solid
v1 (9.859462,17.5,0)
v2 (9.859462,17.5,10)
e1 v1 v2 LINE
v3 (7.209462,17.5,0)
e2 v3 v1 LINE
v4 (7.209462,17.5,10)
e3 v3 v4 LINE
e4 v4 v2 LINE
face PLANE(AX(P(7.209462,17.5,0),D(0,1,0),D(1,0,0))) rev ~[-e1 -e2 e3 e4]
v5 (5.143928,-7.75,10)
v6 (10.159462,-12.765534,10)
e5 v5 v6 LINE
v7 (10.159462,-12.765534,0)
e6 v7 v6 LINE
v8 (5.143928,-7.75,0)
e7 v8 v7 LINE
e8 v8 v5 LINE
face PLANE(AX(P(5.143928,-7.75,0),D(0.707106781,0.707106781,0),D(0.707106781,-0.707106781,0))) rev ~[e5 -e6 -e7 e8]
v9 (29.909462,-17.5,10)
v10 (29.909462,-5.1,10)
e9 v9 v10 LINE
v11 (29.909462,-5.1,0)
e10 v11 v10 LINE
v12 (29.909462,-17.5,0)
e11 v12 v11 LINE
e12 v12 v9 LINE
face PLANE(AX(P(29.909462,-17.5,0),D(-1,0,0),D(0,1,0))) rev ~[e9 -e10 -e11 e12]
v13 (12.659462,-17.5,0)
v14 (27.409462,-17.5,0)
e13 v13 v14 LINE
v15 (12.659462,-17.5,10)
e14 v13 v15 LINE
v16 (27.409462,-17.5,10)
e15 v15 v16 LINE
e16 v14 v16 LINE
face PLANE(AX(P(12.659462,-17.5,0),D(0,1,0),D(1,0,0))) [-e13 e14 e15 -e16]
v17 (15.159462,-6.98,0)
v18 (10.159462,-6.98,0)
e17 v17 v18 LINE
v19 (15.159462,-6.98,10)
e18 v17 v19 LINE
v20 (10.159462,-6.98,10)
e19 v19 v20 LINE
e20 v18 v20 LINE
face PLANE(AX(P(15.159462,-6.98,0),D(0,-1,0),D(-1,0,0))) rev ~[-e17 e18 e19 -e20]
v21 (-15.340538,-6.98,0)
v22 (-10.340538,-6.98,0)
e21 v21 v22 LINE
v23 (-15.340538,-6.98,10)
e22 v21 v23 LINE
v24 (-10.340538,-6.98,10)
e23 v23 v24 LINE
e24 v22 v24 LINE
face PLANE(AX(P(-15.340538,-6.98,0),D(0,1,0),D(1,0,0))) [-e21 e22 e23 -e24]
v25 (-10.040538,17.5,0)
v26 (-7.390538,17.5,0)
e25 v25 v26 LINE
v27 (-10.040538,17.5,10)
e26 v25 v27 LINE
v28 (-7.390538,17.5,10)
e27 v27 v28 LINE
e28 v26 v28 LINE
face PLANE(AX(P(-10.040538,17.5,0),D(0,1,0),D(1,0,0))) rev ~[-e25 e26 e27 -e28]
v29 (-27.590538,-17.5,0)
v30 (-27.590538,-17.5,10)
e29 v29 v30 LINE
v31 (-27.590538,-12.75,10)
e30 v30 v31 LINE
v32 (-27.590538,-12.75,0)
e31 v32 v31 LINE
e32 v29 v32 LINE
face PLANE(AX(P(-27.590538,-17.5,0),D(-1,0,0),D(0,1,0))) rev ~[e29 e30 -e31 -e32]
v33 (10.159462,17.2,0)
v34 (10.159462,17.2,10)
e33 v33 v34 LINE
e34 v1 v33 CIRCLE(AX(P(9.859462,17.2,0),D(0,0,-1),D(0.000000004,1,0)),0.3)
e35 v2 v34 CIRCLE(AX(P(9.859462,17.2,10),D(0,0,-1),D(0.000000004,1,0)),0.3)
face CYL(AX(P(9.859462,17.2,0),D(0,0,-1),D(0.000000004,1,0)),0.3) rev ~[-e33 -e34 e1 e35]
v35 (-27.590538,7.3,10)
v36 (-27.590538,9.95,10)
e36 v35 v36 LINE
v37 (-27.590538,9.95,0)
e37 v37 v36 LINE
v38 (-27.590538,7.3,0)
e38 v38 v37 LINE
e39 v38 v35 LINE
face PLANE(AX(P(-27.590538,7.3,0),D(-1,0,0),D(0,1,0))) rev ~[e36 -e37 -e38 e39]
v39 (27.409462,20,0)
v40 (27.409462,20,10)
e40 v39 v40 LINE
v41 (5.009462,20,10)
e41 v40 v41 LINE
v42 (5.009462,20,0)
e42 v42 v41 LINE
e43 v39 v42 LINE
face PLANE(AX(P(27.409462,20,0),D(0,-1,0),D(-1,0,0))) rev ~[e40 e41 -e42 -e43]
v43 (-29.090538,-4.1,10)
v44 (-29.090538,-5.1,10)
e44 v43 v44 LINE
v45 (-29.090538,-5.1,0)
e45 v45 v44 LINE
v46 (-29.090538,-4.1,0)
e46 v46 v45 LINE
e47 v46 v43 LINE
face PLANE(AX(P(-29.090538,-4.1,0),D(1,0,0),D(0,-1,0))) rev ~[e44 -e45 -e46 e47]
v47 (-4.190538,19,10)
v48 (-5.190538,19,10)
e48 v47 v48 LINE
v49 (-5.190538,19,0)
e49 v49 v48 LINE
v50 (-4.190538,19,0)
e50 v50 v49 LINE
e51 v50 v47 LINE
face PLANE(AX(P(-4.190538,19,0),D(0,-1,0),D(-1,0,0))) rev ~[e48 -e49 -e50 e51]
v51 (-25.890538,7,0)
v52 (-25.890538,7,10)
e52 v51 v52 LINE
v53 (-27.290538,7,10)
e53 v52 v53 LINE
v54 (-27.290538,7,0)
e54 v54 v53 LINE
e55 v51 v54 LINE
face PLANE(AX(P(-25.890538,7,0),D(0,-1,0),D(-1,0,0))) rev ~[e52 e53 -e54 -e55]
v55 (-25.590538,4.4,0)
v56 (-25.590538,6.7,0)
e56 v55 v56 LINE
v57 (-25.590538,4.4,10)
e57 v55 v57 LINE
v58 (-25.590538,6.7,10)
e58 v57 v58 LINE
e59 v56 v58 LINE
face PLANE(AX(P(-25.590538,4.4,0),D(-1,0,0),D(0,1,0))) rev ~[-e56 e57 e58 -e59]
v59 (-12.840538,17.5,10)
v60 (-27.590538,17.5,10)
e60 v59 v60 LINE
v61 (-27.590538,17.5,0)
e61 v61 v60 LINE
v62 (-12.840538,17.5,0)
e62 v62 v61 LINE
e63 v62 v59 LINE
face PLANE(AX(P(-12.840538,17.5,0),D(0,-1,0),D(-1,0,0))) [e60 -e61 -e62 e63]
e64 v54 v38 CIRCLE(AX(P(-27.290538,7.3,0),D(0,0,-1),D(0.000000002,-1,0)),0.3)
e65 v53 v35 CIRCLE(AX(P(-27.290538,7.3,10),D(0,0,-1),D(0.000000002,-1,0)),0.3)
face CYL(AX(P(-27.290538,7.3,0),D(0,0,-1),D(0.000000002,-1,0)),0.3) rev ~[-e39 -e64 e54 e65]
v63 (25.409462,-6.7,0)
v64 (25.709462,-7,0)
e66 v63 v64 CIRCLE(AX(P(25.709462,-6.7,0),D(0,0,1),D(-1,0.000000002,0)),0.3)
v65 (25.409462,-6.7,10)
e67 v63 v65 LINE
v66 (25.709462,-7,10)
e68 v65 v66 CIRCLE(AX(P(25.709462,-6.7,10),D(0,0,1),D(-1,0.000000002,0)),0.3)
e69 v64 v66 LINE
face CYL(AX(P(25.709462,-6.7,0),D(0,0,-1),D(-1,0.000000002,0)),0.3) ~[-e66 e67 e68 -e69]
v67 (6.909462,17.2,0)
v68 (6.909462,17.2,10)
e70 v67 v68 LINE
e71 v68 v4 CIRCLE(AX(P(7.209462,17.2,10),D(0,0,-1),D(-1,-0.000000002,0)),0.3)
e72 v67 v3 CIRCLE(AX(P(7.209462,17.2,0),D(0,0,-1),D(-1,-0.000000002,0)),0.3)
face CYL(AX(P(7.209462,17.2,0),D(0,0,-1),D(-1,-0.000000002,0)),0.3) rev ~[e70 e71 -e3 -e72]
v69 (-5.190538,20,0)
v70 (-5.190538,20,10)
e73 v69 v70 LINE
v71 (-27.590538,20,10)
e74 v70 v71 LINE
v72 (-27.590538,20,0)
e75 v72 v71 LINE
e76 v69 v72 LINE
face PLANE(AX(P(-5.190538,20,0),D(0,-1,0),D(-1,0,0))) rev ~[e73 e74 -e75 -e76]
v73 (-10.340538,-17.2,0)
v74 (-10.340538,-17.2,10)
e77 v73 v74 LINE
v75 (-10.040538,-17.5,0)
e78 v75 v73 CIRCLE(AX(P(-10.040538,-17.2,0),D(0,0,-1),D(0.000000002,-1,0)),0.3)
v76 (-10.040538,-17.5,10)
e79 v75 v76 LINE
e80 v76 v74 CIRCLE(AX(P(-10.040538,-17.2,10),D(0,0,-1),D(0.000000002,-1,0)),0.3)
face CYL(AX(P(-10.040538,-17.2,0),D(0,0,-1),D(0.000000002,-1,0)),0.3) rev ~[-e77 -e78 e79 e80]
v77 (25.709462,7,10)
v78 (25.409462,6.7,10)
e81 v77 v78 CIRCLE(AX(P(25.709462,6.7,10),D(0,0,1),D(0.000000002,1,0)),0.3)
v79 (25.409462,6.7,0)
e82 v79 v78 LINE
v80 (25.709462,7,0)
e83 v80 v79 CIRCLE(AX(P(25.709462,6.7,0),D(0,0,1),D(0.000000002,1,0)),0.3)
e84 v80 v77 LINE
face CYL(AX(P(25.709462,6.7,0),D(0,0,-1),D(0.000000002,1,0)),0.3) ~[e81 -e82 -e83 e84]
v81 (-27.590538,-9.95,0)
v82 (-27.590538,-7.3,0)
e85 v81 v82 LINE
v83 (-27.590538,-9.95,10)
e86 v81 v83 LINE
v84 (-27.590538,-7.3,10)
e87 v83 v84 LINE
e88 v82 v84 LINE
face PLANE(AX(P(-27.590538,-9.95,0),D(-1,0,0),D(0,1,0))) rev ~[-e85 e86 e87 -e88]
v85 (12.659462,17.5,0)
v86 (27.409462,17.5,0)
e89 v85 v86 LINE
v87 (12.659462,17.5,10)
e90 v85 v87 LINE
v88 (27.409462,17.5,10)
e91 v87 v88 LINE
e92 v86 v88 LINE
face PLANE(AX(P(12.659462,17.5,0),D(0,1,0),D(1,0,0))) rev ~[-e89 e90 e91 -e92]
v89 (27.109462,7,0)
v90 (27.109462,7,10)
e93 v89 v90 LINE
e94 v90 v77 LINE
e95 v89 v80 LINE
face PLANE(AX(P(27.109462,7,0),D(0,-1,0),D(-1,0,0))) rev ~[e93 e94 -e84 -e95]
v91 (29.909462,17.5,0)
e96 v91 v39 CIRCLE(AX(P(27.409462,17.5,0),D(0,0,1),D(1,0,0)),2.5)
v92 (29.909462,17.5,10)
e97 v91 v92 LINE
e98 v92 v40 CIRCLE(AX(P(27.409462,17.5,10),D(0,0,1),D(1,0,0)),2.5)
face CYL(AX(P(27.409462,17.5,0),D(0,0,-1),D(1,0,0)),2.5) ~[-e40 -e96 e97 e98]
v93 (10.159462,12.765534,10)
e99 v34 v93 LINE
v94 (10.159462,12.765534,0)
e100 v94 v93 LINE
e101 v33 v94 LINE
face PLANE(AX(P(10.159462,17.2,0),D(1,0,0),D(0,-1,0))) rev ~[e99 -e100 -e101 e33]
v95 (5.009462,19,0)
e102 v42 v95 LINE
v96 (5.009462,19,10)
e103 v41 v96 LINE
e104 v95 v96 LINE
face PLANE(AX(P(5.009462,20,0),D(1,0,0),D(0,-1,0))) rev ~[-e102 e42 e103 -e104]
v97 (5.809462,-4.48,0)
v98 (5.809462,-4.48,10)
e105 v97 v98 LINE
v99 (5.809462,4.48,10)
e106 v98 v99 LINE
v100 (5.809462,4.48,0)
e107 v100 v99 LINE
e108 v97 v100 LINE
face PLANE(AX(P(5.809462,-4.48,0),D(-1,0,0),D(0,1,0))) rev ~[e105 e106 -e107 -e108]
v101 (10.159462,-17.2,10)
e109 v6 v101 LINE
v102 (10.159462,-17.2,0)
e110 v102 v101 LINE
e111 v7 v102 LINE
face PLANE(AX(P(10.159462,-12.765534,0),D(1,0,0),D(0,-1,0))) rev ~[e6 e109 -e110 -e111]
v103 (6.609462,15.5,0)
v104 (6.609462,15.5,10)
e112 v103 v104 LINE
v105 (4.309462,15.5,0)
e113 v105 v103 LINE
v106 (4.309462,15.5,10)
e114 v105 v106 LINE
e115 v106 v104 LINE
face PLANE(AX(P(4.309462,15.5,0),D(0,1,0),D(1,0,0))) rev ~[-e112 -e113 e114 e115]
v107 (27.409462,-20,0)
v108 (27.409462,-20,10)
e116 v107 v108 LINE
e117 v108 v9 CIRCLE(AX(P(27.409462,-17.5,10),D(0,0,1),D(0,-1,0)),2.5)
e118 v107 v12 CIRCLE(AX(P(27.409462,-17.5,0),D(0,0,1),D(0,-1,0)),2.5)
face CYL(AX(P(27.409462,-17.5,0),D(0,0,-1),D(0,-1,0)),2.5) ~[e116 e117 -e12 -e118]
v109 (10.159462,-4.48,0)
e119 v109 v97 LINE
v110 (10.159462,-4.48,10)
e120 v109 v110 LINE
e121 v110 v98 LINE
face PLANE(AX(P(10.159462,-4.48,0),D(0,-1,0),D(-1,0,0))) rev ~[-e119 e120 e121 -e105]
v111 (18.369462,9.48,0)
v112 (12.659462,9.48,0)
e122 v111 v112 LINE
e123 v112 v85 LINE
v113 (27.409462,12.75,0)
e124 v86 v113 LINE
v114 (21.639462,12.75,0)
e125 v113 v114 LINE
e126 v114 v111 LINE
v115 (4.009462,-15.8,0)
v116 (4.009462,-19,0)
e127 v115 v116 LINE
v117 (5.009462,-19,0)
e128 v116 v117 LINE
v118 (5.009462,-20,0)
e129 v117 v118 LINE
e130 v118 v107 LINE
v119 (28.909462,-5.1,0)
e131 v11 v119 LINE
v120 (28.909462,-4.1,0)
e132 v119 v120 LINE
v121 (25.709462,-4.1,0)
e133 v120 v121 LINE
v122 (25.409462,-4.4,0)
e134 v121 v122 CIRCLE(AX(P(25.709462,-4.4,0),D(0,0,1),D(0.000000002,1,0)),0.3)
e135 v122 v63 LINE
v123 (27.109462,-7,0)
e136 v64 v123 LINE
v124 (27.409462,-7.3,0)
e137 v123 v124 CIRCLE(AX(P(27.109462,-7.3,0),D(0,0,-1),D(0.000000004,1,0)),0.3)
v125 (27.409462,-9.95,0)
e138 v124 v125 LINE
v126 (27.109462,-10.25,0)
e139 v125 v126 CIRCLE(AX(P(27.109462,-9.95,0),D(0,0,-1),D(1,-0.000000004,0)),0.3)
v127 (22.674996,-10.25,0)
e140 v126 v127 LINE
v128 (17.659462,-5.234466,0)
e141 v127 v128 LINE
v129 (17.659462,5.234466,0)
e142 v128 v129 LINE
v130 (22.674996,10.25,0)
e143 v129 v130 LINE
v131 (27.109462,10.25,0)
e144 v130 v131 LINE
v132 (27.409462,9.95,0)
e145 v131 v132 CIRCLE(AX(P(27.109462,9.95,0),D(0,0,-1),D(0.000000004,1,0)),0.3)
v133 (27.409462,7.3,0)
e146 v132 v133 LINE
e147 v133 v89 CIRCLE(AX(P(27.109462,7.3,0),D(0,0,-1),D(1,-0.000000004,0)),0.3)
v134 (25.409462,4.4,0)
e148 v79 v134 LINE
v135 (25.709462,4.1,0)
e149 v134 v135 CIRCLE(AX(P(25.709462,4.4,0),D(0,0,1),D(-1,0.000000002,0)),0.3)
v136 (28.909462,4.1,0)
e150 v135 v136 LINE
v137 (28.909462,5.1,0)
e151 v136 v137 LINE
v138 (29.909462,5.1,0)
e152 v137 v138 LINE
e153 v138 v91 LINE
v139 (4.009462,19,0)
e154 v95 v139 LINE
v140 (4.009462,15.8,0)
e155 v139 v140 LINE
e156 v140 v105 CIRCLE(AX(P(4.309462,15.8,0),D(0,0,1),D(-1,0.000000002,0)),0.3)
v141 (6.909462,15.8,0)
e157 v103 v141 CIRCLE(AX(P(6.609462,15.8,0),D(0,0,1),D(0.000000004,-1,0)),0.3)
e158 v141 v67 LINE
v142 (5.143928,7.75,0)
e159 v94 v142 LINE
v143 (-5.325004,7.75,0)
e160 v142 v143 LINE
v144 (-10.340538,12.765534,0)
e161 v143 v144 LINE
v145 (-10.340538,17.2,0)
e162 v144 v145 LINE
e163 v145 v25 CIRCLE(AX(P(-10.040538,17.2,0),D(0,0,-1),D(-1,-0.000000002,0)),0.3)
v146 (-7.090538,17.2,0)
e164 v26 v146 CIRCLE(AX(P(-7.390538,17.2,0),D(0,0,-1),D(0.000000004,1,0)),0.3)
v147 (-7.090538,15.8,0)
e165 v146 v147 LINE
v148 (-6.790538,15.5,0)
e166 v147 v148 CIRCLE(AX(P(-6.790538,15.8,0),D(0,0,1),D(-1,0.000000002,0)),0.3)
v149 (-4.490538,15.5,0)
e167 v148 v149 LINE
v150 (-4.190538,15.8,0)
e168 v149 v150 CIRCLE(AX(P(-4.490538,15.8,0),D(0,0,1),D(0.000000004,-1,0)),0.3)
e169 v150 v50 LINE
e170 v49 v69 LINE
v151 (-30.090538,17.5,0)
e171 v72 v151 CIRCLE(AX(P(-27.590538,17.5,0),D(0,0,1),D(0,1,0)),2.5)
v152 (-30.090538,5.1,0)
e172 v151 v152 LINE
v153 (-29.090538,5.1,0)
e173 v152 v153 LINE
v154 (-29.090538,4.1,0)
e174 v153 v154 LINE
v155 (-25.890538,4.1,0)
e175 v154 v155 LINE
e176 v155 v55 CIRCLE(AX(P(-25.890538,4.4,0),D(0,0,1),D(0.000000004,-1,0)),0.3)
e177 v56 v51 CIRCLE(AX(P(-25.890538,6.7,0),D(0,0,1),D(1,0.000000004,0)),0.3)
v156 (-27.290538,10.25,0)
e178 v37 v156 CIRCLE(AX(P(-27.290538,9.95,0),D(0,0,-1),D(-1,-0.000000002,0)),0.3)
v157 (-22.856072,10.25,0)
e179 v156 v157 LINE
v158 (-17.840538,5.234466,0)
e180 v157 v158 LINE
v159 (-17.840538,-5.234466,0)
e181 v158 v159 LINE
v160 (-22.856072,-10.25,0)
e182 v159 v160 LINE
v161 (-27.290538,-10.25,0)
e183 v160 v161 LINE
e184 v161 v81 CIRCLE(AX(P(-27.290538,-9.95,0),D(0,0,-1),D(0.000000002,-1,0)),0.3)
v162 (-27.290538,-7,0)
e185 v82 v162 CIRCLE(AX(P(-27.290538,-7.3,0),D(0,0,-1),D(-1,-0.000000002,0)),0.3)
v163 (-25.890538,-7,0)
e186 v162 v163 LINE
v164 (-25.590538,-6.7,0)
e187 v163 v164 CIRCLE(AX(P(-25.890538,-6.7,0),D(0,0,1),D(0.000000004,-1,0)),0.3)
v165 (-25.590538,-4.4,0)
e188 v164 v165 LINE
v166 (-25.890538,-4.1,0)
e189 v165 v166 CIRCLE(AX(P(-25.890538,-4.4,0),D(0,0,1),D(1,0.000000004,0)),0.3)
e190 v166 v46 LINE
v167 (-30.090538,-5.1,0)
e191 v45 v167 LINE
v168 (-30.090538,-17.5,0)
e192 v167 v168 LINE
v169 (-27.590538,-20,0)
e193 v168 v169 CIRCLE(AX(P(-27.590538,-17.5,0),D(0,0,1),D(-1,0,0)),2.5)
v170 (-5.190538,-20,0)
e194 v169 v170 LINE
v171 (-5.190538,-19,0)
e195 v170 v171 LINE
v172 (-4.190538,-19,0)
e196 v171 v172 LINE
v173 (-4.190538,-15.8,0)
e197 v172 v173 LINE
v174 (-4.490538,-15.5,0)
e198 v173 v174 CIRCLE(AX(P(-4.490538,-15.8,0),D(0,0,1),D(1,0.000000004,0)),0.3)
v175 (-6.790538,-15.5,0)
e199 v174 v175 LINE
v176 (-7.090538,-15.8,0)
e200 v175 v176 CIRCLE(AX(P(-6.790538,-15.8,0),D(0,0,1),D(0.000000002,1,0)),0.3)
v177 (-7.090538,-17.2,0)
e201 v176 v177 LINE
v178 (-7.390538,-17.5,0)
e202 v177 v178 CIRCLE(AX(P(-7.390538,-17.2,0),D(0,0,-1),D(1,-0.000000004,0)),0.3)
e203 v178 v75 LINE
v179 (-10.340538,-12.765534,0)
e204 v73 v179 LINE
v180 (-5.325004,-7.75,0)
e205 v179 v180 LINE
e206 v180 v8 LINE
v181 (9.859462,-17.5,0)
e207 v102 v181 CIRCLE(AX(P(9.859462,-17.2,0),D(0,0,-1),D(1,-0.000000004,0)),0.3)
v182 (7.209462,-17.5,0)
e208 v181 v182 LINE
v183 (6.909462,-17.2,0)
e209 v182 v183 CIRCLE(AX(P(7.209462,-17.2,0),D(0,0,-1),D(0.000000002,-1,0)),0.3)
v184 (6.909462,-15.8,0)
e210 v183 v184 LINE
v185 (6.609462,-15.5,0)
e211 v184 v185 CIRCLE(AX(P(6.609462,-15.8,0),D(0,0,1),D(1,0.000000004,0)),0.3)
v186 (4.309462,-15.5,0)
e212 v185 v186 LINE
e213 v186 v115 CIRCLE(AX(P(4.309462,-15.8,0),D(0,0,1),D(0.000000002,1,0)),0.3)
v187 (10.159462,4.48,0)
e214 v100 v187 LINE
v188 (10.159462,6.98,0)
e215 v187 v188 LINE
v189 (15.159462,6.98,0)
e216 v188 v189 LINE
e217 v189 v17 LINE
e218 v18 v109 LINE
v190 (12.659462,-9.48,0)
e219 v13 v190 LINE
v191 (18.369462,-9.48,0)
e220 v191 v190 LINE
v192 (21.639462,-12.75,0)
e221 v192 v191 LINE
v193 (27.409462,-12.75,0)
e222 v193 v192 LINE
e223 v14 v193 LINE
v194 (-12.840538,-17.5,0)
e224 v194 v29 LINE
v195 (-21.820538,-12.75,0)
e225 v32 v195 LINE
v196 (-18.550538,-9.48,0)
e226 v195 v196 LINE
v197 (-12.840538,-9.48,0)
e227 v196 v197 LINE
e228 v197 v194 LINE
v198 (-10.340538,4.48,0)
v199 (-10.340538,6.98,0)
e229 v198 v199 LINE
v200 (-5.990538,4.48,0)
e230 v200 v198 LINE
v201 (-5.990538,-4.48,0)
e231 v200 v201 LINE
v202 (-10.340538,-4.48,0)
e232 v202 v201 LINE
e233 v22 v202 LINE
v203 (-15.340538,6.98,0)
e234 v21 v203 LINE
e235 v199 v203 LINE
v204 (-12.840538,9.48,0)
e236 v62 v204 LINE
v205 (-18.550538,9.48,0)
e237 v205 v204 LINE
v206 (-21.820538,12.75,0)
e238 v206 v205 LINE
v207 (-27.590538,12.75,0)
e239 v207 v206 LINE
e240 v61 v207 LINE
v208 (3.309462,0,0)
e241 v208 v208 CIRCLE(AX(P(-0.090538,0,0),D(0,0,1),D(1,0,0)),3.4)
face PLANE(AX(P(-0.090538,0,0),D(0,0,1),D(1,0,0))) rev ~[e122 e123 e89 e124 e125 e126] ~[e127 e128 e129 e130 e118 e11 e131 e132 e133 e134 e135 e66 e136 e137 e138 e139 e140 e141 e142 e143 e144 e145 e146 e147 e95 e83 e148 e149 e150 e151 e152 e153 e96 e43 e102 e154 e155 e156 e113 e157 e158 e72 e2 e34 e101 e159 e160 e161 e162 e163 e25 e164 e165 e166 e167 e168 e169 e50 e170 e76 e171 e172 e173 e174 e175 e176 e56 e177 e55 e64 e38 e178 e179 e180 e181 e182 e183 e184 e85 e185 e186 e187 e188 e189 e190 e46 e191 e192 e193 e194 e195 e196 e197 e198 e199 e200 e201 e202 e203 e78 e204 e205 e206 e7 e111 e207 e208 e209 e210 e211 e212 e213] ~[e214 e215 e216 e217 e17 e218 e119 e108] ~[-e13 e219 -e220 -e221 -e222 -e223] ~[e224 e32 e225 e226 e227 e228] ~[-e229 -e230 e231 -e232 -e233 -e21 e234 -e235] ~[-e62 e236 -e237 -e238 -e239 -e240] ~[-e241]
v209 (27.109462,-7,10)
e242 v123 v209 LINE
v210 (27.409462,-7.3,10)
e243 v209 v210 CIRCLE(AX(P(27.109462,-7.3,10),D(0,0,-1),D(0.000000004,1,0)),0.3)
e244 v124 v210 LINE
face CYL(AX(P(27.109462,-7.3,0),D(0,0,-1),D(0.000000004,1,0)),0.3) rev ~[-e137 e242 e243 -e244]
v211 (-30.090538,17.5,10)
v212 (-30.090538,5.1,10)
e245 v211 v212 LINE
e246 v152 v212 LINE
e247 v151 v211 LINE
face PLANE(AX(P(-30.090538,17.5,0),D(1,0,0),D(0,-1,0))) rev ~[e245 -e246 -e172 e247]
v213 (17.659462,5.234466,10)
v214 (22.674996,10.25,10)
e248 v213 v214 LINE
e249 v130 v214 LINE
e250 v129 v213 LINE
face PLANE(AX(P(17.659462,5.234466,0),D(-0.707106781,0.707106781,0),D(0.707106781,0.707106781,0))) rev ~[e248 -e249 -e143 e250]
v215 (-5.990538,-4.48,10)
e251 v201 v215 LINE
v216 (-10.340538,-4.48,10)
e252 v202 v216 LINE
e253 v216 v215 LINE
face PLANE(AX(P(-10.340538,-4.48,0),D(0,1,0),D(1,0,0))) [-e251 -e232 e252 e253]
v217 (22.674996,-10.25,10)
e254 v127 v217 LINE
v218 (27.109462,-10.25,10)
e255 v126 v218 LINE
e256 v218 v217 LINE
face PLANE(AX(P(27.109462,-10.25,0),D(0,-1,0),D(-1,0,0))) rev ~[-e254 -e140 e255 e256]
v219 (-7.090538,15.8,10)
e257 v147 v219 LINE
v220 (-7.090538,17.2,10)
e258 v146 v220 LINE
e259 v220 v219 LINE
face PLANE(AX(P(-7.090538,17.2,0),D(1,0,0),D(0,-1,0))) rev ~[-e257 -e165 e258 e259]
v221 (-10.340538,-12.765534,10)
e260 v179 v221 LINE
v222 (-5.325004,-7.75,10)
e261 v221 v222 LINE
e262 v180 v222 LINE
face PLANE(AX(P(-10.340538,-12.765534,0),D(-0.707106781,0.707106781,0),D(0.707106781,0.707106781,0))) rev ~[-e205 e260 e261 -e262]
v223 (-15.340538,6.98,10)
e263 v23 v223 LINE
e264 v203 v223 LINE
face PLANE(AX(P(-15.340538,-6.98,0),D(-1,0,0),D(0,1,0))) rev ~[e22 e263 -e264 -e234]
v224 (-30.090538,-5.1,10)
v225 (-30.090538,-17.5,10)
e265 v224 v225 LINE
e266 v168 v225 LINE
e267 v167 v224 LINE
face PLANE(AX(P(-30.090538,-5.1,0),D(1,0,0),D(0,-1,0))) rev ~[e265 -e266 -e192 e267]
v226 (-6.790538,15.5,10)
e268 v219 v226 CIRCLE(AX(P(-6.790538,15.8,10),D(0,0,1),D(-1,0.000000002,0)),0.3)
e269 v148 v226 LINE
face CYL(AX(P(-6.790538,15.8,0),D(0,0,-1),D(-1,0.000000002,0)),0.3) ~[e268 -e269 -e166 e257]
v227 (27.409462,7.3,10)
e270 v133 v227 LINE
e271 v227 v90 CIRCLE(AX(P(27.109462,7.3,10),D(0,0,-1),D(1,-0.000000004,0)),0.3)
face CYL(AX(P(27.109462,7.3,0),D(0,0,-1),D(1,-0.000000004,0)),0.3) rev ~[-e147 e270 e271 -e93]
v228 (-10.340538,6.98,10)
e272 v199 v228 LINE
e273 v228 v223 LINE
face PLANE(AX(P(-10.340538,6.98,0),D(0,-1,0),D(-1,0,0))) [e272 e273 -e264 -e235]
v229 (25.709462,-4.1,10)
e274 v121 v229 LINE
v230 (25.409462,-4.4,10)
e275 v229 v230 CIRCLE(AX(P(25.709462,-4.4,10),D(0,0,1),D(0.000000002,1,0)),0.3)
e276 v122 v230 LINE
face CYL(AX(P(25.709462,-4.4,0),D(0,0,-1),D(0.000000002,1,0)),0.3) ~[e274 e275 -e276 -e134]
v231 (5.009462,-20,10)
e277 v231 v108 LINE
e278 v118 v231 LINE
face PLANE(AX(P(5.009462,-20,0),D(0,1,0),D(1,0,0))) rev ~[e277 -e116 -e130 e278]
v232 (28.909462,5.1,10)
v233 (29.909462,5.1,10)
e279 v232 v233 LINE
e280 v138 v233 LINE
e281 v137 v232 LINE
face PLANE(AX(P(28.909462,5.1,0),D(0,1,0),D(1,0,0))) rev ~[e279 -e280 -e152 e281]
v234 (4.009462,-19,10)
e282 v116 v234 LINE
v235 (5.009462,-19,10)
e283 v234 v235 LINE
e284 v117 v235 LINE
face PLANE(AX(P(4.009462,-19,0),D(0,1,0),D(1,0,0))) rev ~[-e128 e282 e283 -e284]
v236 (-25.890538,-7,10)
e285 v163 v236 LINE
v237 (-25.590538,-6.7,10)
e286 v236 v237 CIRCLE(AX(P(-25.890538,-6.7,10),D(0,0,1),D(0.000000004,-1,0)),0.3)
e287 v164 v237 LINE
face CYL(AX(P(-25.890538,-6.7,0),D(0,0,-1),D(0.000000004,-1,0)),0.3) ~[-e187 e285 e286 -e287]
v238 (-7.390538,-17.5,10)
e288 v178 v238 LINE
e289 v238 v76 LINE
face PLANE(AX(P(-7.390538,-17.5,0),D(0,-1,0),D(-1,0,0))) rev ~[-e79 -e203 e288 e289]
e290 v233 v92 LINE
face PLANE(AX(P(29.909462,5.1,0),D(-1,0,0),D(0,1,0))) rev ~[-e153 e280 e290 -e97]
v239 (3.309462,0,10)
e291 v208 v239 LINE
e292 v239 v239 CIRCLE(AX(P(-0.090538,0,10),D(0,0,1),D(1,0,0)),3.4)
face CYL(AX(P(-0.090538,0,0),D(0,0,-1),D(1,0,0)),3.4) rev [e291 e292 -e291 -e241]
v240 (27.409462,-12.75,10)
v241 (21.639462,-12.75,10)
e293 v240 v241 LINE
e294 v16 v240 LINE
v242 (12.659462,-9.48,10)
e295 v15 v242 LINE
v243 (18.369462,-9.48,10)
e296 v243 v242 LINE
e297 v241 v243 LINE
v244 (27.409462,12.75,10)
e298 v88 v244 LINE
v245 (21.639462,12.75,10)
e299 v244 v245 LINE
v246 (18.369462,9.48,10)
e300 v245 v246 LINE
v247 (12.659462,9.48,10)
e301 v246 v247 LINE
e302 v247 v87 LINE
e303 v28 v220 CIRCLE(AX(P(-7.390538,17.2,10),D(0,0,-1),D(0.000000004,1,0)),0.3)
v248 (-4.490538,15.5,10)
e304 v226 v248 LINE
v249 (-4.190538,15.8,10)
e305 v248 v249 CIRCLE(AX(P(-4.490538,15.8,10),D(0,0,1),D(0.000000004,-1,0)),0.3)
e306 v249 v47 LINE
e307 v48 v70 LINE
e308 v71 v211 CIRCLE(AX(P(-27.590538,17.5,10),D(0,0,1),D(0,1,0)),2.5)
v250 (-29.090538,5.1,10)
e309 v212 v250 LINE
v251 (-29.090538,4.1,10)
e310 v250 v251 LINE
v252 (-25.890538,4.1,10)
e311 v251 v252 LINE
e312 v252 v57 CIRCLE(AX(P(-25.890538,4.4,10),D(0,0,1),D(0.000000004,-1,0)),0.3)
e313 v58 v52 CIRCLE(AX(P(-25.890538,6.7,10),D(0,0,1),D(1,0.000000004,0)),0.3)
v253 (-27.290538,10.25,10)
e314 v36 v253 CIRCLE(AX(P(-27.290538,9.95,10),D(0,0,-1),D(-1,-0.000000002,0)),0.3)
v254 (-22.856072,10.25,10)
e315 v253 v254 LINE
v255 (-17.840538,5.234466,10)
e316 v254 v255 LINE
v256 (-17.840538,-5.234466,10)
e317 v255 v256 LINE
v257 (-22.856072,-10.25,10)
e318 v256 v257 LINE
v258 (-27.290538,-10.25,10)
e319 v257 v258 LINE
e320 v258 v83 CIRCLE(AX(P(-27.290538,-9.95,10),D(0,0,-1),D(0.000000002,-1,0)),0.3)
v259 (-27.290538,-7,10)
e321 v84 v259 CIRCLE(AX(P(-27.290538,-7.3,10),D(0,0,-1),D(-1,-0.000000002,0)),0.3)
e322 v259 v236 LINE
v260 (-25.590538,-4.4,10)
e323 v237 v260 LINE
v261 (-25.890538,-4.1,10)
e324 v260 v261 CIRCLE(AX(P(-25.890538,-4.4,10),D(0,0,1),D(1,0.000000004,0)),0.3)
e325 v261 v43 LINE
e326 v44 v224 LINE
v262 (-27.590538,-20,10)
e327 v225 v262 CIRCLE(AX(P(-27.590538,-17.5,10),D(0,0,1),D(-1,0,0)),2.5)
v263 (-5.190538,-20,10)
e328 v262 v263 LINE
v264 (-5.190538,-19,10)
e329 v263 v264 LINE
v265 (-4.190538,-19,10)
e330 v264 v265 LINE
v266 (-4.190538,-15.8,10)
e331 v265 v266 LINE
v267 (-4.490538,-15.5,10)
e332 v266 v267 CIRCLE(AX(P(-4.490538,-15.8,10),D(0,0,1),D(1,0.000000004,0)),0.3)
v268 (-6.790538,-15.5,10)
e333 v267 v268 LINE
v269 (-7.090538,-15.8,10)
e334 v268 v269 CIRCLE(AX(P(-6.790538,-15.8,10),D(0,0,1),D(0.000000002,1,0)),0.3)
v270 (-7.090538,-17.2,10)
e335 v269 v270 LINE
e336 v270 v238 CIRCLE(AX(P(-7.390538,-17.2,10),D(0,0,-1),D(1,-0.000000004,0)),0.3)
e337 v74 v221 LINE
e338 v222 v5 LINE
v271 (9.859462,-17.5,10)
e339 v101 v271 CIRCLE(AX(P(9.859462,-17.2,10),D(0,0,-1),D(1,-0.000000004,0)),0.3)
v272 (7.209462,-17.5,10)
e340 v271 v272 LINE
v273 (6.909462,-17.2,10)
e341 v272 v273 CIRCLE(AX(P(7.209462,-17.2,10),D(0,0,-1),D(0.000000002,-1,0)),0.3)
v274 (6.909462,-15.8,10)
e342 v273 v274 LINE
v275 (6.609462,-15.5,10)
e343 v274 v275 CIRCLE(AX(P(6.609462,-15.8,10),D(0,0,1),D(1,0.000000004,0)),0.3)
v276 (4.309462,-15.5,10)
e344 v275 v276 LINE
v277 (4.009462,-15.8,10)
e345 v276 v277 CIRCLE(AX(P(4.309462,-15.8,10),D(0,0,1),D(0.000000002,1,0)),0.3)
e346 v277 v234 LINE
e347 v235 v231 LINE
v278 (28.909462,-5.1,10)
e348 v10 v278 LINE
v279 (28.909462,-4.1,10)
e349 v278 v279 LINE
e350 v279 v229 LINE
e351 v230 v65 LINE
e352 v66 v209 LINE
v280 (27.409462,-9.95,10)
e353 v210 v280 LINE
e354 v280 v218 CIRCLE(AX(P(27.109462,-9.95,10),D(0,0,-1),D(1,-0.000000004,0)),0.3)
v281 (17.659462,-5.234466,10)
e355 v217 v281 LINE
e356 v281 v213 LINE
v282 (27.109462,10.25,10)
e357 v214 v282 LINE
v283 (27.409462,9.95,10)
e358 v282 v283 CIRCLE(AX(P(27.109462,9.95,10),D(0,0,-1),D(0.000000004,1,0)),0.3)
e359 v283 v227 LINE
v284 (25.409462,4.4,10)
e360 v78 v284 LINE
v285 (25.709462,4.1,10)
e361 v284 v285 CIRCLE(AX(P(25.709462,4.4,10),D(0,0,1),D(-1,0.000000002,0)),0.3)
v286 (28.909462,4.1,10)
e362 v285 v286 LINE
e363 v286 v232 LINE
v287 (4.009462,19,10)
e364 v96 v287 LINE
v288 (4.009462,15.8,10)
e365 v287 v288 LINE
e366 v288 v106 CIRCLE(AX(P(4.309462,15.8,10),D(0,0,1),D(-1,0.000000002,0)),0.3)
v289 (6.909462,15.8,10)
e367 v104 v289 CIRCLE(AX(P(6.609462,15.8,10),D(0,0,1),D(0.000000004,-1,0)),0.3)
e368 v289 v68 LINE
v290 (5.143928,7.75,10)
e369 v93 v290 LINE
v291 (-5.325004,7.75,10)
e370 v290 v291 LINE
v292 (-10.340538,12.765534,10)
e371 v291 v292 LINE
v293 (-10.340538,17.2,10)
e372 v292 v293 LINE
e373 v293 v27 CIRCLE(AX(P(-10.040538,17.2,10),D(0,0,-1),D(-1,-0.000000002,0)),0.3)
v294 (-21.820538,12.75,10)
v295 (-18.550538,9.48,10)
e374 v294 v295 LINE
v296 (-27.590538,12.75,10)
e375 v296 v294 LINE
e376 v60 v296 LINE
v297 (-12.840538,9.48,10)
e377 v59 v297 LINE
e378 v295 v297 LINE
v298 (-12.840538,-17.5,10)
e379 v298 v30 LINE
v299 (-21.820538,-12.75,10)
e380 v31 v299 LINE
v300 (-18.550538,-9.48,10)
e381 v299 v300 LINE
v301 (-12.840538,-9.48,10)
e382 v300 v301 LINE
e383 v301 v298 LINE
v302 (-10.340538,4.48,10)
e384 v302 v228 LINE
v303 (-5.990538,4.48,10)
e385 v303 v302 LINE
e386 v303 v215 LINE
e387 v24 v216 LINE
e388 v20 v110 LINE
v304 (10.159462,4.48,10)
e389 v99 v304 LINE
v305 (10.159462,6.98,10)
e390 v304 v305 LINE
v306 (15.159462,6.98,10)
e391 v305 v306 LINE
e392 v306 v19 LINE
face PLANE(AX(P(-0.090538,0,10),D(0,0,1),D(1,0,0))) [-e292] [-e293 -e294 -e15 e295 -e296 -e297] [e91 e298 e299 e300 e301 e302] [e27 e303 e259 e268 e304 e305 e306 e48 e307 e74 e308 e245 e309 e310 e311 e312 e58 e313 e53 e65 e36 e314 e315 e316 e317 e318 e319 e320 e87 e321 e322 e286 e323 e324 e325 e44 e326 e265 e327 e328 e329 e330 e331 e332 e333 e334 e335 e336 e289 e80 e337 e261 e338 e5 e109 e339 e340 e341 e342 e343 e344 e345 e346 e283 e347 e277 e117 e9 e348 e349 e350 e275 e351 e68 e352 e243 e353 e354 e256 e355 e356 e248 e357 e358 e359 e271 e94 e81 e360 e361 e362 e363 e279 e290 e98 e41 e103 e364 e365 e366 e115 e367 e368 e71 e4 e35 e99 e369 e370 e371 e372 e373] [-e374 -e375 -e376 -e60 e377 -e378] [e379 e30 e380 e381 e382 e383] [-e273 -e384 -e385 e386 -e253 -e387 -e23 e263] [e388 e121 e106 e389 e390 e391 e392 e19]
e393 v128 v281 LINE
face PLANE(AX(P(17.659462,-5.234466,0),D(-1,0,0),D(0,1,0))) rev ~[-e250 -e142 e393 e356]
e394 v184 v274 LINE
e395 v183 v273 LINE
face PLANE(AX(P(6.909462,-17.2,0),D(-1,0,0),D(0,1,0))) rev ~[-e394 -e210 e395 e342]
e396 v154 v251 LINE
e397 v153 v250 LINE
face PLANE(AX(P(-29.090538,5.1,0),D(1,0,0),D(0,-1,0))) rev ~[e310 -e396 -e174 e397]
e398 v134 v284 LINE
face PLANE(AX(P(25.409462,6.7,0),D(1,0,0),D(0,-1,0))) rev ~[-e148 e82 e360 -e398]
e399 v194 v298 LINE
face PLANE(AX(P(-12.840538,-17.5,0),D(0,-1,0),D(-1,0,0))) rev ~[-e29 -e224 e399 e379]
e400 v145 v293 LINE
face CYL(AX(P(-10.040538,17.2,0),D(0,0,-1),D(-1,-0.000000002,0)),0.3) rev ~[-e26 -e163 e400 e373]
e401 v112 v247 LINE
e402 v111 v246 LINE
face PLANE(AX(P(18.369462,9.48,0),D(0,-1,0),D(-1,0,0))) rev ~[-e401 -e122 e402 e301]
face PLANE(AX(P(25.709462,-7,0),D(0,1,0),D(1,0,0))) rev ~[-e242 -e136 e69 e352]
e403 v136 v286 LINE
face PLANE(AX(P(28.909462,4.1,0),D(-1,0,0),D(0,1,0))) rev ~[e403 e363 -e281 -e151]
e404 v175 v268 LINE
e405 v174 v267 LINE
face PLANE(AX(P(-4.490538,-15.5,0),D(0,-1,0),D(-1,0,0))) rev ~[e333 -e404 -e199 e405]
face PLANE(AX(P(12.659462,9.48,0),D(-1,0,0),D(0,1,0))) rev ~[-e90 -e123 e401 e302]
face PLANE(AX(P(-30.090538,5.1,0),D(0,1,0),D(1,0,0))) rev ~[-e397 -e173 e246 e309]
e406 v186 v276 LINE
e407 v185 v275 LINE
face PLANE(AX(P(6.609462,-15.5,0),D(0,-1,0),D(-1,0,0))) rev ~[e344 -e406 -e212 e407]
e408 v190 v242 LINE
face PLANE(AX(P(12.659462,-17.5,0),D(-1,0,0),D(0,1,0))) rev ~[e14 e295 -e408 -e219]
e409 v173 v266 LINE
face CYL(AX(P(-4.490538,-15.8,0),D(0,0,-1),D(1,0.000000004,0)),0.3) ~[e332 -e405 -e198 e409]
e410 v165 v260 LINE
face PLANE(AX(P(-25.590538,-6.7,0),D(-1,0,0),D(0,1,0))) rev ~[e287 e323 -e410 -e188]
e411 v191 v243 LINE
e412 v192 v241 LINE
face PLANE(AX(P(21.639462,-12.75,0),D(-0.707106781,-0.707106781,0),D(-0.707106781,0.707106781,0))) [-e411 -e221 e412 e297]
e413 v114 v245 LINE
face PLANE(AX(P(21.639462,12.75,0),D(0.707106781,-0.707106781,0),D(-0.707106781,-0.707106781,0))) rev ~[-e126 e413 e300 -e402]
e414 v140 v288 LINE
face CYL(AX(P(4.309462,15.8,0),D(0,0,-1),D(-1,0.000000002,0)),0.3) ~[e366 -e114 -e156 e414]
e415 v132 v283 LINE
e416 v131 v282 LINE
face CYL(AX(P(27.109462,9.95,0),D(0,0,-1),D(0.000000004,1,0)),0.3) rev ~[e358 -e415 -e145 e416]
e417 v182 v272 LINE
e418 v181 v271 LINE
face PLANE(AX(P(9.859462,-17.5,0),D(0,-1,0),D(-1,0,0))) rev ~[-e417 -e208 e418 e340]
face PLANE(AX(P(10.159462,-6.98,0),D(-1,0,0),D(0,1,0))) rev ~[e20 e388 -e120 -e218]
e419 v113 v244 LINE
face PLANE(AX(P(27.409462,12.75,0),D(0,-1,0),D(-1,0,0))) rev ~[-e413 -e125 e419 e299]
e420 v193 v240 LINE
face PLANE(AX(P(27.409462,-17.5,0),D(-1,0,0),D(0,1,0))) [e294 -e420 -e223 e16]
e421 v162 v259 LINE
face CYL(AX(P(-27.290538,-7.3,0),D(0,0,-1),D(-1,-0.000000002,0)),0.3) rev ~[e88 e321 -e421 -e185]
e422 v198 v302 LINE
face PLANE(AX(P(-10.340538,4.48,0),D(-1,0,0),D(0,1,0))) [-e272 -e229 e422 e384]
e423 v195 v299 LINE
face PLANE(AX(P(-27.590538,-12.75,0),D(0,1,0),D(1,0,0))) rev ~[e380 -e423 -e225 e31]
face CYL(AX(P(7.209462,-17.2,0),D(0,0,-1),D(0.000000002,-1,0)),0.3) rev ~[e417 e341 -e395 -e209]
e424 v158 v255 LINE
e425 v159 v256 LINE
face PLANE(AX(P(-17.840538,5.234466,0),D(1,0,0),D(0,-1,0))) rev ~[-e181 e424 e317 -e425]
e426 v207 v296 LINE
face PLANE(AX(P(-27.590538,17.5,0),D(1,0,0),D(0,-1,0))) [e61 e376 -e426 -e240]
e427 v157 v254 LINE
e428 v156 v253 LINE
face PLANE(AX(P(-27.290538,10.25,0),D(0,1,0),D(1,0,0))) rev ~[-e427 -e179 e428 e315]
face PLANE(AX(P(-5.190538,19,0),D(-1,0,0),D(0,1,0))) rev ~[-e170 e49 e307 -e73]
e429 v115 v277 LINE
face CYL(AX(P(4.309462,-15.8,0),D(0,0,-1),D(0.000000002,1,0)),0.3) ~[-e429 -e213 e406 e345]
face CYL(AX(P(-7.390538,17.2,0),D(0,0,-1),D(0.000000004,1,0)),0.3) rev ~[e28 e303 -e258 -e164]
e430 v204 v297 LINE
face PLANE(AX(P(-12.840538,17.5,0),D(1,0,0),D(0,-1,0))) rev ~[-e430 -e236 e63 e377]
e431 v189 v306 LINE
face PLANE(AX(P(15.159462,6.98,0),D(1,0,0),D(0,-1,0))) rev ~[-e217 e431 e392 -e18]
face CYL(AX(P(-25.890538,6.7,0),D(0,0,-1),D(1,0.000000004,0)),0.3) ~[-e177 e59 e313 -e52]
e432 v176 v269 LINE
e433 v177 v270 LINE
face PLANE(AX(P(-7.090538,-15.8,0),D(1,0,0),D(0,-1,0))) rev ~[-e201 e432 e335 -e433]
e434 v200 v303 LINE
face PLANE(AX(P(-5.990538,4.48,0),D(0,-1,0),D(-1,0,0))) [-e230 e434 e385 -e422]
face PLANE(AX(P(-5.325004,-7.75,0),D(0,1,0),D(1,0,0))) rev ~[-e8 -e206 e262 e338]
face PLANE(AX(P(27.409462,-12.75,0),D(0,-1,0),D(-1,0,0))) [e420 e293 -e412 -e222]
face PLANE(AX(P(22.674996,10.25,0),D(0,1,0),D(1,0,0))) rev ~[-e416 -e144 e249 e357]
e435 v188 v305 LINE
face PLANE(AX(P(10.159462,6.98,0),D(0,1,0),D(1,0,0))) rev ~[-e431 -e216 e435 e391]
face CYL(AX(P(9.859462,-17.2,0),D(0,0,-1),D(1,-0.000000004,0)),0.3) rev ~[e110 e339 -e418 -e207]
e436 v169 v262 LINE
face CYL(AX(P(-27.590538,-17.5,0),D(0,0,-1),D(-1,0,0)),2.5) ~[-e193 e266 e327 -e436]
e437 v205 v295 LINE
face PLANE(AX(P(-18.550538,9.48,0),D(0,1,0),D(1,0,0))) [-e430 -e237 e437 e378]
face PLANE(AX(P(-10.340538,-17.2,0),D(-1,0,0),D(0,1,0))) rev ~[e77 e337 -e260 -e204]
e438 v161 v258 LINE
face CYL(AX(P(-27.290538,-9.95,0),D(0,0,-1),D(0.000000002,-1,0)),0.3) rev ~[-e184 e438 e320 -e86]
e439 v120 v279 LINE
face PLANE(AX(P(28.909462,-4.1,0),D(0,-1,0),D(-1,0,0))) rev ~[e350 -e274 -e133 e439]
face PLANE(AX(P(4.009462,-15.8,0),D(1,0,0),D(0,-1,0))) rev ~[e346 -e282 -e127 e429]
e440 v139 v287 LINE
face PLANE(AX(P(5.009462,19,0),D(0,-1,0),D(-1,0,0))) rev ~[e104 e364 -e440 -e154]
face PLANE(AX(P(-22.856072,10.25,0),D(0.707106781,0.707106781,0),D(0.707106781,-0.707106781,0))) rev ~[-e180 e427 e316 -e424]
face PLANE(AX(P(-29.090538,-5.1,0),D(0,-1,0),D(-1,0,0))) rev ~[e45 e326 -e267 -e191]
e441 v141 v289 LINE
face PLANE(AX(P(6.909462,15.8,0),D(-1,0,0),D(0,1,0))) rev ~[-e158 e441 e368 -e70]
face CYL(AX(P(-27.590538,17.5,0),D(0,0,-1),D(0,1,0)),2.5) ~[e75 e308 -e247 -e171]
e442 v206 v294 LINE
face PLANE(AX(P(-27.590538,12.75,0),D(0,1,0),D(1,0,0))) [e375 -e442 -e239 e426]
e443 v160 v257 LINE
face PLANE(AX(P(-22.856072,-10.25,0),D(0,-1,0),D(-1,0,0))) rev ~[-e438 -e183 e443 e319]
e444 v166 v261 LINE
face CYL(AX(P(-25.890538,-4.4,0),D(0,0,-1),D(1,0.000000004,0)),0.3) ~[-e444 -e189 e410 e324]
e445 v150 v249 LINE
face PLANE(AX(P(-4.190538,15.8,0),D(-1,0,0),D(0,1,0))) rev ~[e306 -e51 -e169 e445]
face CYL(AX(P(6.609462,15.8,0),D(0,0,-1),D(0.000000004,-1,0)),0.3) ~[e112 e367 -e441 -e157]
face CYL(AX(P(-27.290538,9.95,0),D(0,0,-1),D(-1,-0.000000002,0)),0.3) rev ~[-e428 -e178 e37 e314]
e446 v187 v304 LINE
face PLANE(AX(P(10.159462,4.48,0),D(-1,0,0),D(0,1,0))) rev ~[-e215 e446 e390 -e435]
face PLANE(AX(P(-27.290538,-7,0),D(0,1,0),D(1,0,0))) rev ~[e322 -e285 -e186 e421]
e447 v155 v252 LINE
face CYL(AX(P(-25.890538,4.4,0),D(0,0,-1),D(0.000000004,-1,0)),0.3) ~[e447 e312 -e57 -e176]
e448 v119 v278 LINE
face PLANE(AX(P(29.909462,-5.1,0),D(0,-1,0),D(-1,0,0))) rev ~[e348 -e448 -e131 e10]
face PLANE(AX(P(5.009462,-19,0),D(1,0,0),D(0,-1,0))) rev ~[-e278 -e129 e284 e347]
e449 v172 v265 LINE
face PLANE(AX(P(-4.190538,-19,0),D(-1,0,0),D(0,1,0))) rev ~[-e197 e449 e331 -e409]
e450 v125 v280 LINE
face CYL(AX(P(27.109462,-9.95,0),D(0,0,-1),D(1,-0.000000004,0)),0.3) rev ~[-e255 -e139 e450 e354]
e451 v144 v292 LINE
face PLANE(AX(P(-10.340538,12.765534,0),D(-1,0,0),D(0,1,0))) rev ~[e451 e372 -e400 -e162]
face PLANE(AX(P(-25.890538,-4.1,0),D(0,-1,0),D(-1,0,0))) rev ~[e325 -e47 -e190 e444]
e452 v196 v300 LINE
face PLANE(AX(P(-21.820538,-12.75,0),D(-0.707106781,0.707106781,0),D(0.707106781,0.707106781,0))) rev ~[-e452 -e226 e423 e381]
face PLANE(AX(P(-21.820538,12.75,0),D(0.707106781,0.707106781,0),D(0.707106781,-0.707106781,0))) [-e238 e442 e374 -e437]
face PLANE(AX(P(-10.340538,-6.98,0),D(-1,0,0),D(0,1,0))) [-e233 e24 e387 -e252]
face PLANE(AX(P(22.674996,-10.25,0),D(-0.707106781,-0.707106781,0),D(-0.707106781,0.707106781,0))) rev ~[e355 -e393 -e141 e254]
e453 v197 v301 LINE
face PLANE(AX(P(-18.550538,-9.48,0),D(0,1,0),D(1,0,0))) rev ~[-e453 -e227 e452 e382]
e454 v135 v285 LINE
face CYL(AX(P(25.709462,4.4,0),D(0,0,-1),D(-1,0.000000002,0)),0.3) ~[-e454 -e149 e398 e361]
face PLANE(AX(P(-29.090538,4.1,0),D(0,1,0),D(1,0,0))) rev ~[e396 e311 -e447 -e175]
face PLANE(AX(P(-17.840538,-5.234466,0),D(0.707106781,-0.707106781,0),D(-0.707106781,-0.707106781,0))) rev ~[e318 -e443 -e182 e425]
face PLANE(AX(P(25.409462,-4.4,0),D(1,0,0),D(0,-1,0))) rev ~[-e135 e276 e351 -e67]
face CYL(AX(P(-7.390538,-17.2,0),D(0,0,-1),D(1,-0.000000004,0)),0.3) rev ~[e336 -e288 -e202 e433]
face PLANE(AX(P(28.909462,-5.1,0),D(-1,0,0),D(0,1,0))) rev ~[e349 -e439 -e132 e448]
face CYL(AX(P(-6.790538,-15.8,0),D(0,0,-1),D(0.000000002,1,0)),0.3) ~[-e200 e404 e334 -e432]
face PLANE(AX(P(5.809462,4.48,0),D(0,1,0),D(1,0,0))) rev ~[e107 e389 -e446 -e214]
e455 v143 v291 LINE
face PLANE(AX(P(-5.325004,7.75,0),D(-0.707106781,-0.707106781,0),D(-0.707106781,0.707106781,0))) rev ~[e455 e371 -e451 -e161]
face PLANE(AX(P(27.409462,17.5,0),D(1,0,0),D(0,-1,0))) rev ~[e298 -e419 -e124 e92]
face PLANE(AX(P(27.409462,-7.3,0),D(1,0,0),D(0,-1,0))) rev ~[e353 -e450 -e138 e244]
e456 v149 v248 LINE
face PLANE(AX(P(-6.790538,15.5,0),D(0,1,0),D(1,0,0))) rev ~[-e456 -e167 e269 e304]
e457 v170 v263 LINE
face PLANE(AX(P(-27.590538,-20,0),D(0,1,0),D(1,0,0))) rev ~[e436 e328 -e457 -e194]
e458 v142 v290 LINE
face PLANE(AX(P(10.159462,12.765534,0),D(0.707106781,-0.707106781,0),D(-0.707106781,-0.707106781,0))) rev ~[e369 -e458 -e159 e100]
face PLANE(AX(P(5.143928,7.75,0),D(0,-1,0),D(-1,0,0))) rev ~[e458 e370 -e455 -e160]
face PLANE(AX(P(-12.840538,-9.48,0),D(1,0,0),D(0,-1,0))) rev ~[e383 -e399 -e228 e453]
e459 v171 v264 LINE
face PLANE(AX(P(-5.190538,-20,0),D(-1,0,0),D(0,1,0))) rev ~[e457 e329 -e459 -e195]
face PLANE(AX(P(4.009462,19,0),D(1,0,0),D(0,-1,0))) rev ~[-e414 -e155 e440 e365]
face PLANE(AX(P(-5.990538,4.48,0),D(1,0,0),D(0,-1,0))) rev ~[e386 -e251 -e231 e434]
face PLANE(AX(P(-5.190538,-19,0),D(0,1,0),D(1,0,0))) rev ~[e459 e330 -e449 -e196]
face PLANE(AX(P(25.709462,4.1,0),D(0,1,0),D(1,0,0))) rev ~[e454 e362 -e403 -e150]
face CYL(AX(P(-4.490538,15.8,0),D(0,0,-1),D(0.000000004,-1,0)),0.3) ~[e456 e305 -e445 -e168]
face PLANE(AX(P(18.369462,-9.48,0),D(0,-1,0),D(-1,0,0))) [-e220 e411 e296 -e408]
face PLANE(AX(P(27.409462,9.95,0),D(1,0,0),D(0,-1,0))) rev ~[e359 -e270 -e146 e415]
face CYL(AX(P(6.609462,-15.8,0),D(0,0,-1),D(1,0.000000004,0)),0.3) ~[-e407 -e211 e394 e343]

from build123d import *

# Parameters (mm, degrees)
SKETCH_1_R      = 3.4
EXTRUDE_1_DEPTH = 10


with BuildPart() as part:
    # 草图1 → 凸台-拉伸1 (new body)
    with BuildSketch(Plane.XY):
        with BuildLine():
            Line((-5.190537873, 20), (-27.590537873, 20))
            ThreePointArc((-27.590537873, 20), (-29.358304826, 19.267766953), (-30.090537873, 17.5))
            Line((-30.090537873, 17.5), (-30.090537873, 5.1))
            Line((-30.090537873, 5.1), (-29.090537873, 5.1))
            Line((-29.090537873, 5.1), (-29.090537873, 4.1))
            Line((-29.090537873, 4.1), (-25.890537873, 4.1))
            ThreePointArc((-25.890537873, 4.1), (-25.678405839, 4.187867966), (-25.590537873, 4.4))
            Line((-25.590537873, 4.4), (-25.590537873, 6.7))
            ThreePointArc((-25.590537873, 6.7), (-25.678405839, 6.912132034), (-25.890537873, 7))
            Line((-25.890537873, 7), (-27.290537873, 7))
            ThreePointArc((-27.290537873, 7), (-27.502669908, 7.087867966), (-27.590537873, 7.3))
            Line((-27.590537873, 7.3), (-27.590537873, 9.95))
            ThreePointArc((-27.590537873, 9.95), (-27.502669908, 10.162132034), (-27.290537873, 10.25))
            Line((-27.290537873, 10.25), (-22.856071779, 10.25))
            Line((-22.856071779, 10.25), (-17.840537873, 5.234466094))
            Line((-17.840537873, 5.234466094), (-17.840537873, 0))
            Line((-17.840537873, 0), (-17.840537873, -5.234466094))
            Line((-17.840537873, -5.234466094), (-22.856071779, -10.25))
            Line((-22.856071779, -10.25), (-27.290537873, -10.25))
            ThreePointArc((-27.290537873, -10.25), (-27.502669908, -10.162132034), (-27.590537873, -9.95))
            Line((-27.590537873, -9.95), (-27.590537873, -7.3))
            ThreePointArc((-27.590537873, -7.3), (-27.502669908, -7.087867966), (-27.290537873, -7))
            Line((-27.290537873, -7), (-25.890537873, -7))
            ThreePointArc((-25.890537873, -7), (-25.678405839, -6.912132034), (-25.590537873, -6.7))
            Line((-25.590537873, -6.7), (-25.590537873, -4.4))
            ThreePointArc((-25.590537873, -4.4), (-25.678405839, -4.187867966), (-25.890537873, -4.1))
            Line((-25.890537873, -4.1), (-29.090537873, -4.1))
            Line((-29.090537873, -4.1), (-29.090537873, -5.1))
            Line((-29.090537873, -5.1), (-30.090537873, -5.1))
            Line((-30.090537873, -5.1), (-30.090537873, -17.5))
            ThreePointArc((-30.090537873, -17.5), (-29.358304826, -19.267766953), (-27.590537873, -20))
            Line((-27.590537873, -20), (-5.190537873, -20))
            Line((-5.190537873, -20), (-5.190537873, -19))
            Line((-5.190537873, -19), (-4.190537873, -19))
            Line((-4.190537873, -19), (-4.190537873, -15.8))
            ThreePointArc((-4.190537873, -15.8), (-4.278405839, -15.587867966), (-4.490537873, -15.5))
            Line((-4.490537873, -15.5), (-6.790537873, -15.5))
            ThreePointArc((-6.790537873, -15.5), (-7.002669908, -15.587867966), (-7.090537873, -15.8))
            Line((-7.090537873, -15.8), (-7.090537873, -17.2))
            ThreePointArc((-7.090537873, -17.2), (-7.178405839, -17.412132034), (-7.390537873, -17.5))
            Line((-7.390537873, -17.5), (-10.040537873, -17.5))
            ThreePointArc((-10.040537873, -17.5), (-10.252669908, -17.412132034), (-10.340537873, -17.2))
            Line((-10.340537873, -17.2), (-10.340537873, -12.765533906))
            Line((-10.340537873, -12.765533906), (-5.325003967, -7.75))
            Line((-5.325003967, -7.75), (-0.090537873, -7.75))
            Line((-0.090537873, -7.75), (5.143928221, -7.75))
            Line((5.143928221, -7.75), (10.159462127, -12.765533906))
            Line((10.159462127, -12.765533906), (10.159462127, -17.2))
            ThreePointArc((10.159462127, -17.2), (10.071594161, -17.412132034), (9.859462127, -17.5))
            Line((9.859462127, -17.5), (7.209462127, -17.5))
            ThreePointArc((7.209462127, -17.5), (6.997330092, -17.412132034), (6.909462127, -17.2))
            Line((6.909462127, -17.2), (6.909462127, -15.8))
            ThreePointArc((6.909462127, -15.8), (6.821594161, -15.587867966), (6.609462127, -15.5))
            Line((6.609462127, -15.5), (4.309462127, -15.5))
            ThreePointArc((4.309462127, -15.5), (4.097330092, -15.587867966), (4.009462127, -15.8))
            Line((4.009462127, -15.8), (4.009462127, -19))
            Line((4.009462127, -19), (5.009462127, -19))
            Line((5.009462127, -19), (5.009462127, -20))
            Line((5.009462127, -20), (27.409462127, -20))
            ThreePointArc((27.409462127, -20), (29.17722908, -19.267766953), (29.909462127, -17.5))
            Line((29.909462127, -17.5), (29.909462127, -5.1))
            Line((29.909462127, -5.1), (28.909462127, -5.1))
            Line((28.909462127, -5.1), (28.909462127, -4.1))
            Line((28.909462127, -4.1), (25.709462127, -4.1))
            ThreePointArc((25.709462127, -4.1), (25.497330092, -4.187867966), (25.409462127, -4.4))
            Line((25.409462127, -4.4), (25.409462127, -6.7))
            ThreePointArc((25.409462127, -6.7), (25.497330092, -6.912132034), (25.709462127, -7))
            Line((25.709462127, -7), (27.109462127, -7))
            ThreePointArc((27.109462127, -7), (27.321594161, -7.087867966), (27.409462127, -7.3))
            Line((27.409462127, -7.3), (27.409462127, -9.95))
            ThreePointArc((27.409462127, -9.95), (27.321594161, -10.162132034), (27.109462127, -10.25))
            Line((27.109462127, -10.25), (22.674996033, -10.25))
            Line((22.674996033, -10.25), (17.659462127, -5.234466094))
            Line((17.659462127, -5.234466094), (17.659462127, 0))
            Line((17.659462127, 0), (17.659462127, 5.234466094))
            Line((17.659462127, 5.234466094), (22.674996033, 10.25))
            Line((22.674996033, 10.25), (27.109462127, 10.25))
            ThreePointArc((27.109462127, 10.25), (27.321594161, 10.162132034), (27.409462127, 9.95))
            Line((27.409462127, 9.95), (27.409462127, 7.3))
            ThreePointArc((27.409462127, 7.3), (27.321594161, 7.087867966), (27.109462127, 7))
            Line((27.109462127, 7), (25.709462127, 7))
            ThreePointArc((25.709462127, 7), (25.497330092, 6.912132034), (25.409462127, 6.7))
            Line((25.409462127, 6.7), (25.409462127, 4.4))
            ThreePointArc((25.409462127, 4.4), (25.497330092, 4.187867966), (25.709462127, 4.1))
            Line((25.709462127, 4.1), (28.909462127, 4.1))
            Line((28.909462127, 4.1), (28.909462127, 5.1))
            Line((28.909462127, 5.1), (29.909462127, 5.1))
            Line((29.909462127, 5.1), (29.909462127, 17.5))
            ThreePointArc((29.909462127, 17.5), (29.17722908, 19.267766953), (27.409462127, 20))
            Line((27.409462127, 20), (5.009462127, 20))
            Line((5.009462127, 20), (5.009462127, 19))
            Line((5.009462127, 19), (4.009462127, 19))
            Line((4.009462127, 19), (4.009462127, 15.8))
            ThreePointArc((4.009462127, 15.8), (4.097330092, 15.587867966), (4.309462127, 15.5))
            Line((4.309462127, 15.5), (6.609462127, 15.5))
            ThreePointArc((6.609462127, 15.5), (6.821594161, 15.587867966), (6.909462127, 15.8))
            Line((6.909462127, 15.8), (6.909462127, 17.2))
            ThreePointArc((6.909462127, 17.2), (6.997330092, 17.412132034), (7.209462127, 17.5))
            Line((7.209462127, 17.5), (9.859462127, 17.5))
            ThreePointArc((9.859462127, 17.5), (10.071594161, 17.412132034), (10.159462127, 17.2))
            Line((10.159462127, 17.2), (10.159462127, 12.765533906))
            Line((10.159462127, 12.765533906), (5.143928221, 7.75))
            Line((5.143928221, 7.75), (-0.090537873, 7.75))
            Line((-0.090537873, 7.75), (-5.325003967, 7.75))
            Line((-5.325003967, 7.75), (-10.340537873, 12.765533906))
            Line((-10.340537873, 12.765533906), (-10.340537873, 17.2))
            ThreePointArc((-10.340537873, 17.2), (-10.252669908, 17.412132034), (-10.040537873, 17.5))
            Line((-10.040537873, 17.5), (-7.390537873, 17.5))
            ThreePointArc((-7.390537873, 17.5), (-7.178405839, 17.412132034), (-7.090537873, 17.2))
            Line((-7.090537873, 17.2), (-7.090537873, 15.8))
            ThreePointArc((-7.090537873, 15.8), (-7.002669908, 15.587867966), (-6.790537873, 15.5))
            Line((-6.790537873, 15.5), (-4.490537873, 15.5))
            ThreePointArc((-4.490537873, 15.5), (-4.278405839, 15.587867966), (-4.190537873, 15.8))
            Line((-4.190537873, 15.8), (-4.190537873, 19))
            Line((-4.190537873, 19), (-5.190537873, 19))
            Line((-5.190537873, 19), (-5.190537873, 20))
        make_face()
        with Locations((-0.090537873, 0)):
            Circle(SKETCH_1_R, mode=Mode.SUBTRACT)
        Polygon((-12.840537873, 17.5), (-27.590537873, 17.5), (-27.590537873, 12.75), (-21.820537873, 12.75), (-18.550537873, 9.48), (-12.840537873, 9.48), (-12.840537873, 10.25), (-12.840537873, 12.75), align=None, mode=Mode.SUBTRACT)
        Polygon((-15.340537873, 6.98), (-15.340537873, 0), (-15.340537873, -6.98), (-10.340537873, -6.98), (-10.340537873, -4.48), (-5.990537873, -4.48), (-5.990537873, 0), (-5.990537873, 4.48), (-10.340537873, 4.48), (-10.340537873, 6.98), align=None, mode=Mode.SUBTRACT)
        Polygon((12.659462127, 17.5), (27.409462127, 17.5), (27.409462127, 12.75), (21.639462127, 12.75), (18.369462127, 9.48), (12.659462127, 9.48), (12.659462127, 10.25), (12.659462127, 12.75), align=None, mode=Mode.SUBTRACT)
        Polygon((15.159462127, 6.98), (15.159462127, 0), (15.159462127, -6.98), (10.159462127, -6.98), (10.159462127, -4.48), (5.809462127, -4.48), (5.809462127, 0), (5.809462127, 4.48), (10.159462127, 4.48), (10.159462127, 6.98), align=None, mode=Mode.SUBTRACT)
        Polygon((-12.840537873, -17.5), (-27.590537873, -17.5), (-27.590537873, -12.75), (-21.820537873, -12.75), (-18.550537873, -9.48), (-12.840537873, -9.48), (-12.840537873, -10.25), (-12.840537873, -12.75), align=None, mode=Mode.SUBTRACT)
        Polygon((12.659462127, -17.5), (27.409462127, -17.5), (27.409462127, -12.75), (21.639462127, -12.75), (18.369462127, -9.48), (12.659462127, -9.48), (12.659462127, -10.25), (12.659462127, -12.75), align=None, mode=Mode.SUBTRACT)
    extrude(amount=EXTRUDE_1_DEPTH)


solid = part.part
